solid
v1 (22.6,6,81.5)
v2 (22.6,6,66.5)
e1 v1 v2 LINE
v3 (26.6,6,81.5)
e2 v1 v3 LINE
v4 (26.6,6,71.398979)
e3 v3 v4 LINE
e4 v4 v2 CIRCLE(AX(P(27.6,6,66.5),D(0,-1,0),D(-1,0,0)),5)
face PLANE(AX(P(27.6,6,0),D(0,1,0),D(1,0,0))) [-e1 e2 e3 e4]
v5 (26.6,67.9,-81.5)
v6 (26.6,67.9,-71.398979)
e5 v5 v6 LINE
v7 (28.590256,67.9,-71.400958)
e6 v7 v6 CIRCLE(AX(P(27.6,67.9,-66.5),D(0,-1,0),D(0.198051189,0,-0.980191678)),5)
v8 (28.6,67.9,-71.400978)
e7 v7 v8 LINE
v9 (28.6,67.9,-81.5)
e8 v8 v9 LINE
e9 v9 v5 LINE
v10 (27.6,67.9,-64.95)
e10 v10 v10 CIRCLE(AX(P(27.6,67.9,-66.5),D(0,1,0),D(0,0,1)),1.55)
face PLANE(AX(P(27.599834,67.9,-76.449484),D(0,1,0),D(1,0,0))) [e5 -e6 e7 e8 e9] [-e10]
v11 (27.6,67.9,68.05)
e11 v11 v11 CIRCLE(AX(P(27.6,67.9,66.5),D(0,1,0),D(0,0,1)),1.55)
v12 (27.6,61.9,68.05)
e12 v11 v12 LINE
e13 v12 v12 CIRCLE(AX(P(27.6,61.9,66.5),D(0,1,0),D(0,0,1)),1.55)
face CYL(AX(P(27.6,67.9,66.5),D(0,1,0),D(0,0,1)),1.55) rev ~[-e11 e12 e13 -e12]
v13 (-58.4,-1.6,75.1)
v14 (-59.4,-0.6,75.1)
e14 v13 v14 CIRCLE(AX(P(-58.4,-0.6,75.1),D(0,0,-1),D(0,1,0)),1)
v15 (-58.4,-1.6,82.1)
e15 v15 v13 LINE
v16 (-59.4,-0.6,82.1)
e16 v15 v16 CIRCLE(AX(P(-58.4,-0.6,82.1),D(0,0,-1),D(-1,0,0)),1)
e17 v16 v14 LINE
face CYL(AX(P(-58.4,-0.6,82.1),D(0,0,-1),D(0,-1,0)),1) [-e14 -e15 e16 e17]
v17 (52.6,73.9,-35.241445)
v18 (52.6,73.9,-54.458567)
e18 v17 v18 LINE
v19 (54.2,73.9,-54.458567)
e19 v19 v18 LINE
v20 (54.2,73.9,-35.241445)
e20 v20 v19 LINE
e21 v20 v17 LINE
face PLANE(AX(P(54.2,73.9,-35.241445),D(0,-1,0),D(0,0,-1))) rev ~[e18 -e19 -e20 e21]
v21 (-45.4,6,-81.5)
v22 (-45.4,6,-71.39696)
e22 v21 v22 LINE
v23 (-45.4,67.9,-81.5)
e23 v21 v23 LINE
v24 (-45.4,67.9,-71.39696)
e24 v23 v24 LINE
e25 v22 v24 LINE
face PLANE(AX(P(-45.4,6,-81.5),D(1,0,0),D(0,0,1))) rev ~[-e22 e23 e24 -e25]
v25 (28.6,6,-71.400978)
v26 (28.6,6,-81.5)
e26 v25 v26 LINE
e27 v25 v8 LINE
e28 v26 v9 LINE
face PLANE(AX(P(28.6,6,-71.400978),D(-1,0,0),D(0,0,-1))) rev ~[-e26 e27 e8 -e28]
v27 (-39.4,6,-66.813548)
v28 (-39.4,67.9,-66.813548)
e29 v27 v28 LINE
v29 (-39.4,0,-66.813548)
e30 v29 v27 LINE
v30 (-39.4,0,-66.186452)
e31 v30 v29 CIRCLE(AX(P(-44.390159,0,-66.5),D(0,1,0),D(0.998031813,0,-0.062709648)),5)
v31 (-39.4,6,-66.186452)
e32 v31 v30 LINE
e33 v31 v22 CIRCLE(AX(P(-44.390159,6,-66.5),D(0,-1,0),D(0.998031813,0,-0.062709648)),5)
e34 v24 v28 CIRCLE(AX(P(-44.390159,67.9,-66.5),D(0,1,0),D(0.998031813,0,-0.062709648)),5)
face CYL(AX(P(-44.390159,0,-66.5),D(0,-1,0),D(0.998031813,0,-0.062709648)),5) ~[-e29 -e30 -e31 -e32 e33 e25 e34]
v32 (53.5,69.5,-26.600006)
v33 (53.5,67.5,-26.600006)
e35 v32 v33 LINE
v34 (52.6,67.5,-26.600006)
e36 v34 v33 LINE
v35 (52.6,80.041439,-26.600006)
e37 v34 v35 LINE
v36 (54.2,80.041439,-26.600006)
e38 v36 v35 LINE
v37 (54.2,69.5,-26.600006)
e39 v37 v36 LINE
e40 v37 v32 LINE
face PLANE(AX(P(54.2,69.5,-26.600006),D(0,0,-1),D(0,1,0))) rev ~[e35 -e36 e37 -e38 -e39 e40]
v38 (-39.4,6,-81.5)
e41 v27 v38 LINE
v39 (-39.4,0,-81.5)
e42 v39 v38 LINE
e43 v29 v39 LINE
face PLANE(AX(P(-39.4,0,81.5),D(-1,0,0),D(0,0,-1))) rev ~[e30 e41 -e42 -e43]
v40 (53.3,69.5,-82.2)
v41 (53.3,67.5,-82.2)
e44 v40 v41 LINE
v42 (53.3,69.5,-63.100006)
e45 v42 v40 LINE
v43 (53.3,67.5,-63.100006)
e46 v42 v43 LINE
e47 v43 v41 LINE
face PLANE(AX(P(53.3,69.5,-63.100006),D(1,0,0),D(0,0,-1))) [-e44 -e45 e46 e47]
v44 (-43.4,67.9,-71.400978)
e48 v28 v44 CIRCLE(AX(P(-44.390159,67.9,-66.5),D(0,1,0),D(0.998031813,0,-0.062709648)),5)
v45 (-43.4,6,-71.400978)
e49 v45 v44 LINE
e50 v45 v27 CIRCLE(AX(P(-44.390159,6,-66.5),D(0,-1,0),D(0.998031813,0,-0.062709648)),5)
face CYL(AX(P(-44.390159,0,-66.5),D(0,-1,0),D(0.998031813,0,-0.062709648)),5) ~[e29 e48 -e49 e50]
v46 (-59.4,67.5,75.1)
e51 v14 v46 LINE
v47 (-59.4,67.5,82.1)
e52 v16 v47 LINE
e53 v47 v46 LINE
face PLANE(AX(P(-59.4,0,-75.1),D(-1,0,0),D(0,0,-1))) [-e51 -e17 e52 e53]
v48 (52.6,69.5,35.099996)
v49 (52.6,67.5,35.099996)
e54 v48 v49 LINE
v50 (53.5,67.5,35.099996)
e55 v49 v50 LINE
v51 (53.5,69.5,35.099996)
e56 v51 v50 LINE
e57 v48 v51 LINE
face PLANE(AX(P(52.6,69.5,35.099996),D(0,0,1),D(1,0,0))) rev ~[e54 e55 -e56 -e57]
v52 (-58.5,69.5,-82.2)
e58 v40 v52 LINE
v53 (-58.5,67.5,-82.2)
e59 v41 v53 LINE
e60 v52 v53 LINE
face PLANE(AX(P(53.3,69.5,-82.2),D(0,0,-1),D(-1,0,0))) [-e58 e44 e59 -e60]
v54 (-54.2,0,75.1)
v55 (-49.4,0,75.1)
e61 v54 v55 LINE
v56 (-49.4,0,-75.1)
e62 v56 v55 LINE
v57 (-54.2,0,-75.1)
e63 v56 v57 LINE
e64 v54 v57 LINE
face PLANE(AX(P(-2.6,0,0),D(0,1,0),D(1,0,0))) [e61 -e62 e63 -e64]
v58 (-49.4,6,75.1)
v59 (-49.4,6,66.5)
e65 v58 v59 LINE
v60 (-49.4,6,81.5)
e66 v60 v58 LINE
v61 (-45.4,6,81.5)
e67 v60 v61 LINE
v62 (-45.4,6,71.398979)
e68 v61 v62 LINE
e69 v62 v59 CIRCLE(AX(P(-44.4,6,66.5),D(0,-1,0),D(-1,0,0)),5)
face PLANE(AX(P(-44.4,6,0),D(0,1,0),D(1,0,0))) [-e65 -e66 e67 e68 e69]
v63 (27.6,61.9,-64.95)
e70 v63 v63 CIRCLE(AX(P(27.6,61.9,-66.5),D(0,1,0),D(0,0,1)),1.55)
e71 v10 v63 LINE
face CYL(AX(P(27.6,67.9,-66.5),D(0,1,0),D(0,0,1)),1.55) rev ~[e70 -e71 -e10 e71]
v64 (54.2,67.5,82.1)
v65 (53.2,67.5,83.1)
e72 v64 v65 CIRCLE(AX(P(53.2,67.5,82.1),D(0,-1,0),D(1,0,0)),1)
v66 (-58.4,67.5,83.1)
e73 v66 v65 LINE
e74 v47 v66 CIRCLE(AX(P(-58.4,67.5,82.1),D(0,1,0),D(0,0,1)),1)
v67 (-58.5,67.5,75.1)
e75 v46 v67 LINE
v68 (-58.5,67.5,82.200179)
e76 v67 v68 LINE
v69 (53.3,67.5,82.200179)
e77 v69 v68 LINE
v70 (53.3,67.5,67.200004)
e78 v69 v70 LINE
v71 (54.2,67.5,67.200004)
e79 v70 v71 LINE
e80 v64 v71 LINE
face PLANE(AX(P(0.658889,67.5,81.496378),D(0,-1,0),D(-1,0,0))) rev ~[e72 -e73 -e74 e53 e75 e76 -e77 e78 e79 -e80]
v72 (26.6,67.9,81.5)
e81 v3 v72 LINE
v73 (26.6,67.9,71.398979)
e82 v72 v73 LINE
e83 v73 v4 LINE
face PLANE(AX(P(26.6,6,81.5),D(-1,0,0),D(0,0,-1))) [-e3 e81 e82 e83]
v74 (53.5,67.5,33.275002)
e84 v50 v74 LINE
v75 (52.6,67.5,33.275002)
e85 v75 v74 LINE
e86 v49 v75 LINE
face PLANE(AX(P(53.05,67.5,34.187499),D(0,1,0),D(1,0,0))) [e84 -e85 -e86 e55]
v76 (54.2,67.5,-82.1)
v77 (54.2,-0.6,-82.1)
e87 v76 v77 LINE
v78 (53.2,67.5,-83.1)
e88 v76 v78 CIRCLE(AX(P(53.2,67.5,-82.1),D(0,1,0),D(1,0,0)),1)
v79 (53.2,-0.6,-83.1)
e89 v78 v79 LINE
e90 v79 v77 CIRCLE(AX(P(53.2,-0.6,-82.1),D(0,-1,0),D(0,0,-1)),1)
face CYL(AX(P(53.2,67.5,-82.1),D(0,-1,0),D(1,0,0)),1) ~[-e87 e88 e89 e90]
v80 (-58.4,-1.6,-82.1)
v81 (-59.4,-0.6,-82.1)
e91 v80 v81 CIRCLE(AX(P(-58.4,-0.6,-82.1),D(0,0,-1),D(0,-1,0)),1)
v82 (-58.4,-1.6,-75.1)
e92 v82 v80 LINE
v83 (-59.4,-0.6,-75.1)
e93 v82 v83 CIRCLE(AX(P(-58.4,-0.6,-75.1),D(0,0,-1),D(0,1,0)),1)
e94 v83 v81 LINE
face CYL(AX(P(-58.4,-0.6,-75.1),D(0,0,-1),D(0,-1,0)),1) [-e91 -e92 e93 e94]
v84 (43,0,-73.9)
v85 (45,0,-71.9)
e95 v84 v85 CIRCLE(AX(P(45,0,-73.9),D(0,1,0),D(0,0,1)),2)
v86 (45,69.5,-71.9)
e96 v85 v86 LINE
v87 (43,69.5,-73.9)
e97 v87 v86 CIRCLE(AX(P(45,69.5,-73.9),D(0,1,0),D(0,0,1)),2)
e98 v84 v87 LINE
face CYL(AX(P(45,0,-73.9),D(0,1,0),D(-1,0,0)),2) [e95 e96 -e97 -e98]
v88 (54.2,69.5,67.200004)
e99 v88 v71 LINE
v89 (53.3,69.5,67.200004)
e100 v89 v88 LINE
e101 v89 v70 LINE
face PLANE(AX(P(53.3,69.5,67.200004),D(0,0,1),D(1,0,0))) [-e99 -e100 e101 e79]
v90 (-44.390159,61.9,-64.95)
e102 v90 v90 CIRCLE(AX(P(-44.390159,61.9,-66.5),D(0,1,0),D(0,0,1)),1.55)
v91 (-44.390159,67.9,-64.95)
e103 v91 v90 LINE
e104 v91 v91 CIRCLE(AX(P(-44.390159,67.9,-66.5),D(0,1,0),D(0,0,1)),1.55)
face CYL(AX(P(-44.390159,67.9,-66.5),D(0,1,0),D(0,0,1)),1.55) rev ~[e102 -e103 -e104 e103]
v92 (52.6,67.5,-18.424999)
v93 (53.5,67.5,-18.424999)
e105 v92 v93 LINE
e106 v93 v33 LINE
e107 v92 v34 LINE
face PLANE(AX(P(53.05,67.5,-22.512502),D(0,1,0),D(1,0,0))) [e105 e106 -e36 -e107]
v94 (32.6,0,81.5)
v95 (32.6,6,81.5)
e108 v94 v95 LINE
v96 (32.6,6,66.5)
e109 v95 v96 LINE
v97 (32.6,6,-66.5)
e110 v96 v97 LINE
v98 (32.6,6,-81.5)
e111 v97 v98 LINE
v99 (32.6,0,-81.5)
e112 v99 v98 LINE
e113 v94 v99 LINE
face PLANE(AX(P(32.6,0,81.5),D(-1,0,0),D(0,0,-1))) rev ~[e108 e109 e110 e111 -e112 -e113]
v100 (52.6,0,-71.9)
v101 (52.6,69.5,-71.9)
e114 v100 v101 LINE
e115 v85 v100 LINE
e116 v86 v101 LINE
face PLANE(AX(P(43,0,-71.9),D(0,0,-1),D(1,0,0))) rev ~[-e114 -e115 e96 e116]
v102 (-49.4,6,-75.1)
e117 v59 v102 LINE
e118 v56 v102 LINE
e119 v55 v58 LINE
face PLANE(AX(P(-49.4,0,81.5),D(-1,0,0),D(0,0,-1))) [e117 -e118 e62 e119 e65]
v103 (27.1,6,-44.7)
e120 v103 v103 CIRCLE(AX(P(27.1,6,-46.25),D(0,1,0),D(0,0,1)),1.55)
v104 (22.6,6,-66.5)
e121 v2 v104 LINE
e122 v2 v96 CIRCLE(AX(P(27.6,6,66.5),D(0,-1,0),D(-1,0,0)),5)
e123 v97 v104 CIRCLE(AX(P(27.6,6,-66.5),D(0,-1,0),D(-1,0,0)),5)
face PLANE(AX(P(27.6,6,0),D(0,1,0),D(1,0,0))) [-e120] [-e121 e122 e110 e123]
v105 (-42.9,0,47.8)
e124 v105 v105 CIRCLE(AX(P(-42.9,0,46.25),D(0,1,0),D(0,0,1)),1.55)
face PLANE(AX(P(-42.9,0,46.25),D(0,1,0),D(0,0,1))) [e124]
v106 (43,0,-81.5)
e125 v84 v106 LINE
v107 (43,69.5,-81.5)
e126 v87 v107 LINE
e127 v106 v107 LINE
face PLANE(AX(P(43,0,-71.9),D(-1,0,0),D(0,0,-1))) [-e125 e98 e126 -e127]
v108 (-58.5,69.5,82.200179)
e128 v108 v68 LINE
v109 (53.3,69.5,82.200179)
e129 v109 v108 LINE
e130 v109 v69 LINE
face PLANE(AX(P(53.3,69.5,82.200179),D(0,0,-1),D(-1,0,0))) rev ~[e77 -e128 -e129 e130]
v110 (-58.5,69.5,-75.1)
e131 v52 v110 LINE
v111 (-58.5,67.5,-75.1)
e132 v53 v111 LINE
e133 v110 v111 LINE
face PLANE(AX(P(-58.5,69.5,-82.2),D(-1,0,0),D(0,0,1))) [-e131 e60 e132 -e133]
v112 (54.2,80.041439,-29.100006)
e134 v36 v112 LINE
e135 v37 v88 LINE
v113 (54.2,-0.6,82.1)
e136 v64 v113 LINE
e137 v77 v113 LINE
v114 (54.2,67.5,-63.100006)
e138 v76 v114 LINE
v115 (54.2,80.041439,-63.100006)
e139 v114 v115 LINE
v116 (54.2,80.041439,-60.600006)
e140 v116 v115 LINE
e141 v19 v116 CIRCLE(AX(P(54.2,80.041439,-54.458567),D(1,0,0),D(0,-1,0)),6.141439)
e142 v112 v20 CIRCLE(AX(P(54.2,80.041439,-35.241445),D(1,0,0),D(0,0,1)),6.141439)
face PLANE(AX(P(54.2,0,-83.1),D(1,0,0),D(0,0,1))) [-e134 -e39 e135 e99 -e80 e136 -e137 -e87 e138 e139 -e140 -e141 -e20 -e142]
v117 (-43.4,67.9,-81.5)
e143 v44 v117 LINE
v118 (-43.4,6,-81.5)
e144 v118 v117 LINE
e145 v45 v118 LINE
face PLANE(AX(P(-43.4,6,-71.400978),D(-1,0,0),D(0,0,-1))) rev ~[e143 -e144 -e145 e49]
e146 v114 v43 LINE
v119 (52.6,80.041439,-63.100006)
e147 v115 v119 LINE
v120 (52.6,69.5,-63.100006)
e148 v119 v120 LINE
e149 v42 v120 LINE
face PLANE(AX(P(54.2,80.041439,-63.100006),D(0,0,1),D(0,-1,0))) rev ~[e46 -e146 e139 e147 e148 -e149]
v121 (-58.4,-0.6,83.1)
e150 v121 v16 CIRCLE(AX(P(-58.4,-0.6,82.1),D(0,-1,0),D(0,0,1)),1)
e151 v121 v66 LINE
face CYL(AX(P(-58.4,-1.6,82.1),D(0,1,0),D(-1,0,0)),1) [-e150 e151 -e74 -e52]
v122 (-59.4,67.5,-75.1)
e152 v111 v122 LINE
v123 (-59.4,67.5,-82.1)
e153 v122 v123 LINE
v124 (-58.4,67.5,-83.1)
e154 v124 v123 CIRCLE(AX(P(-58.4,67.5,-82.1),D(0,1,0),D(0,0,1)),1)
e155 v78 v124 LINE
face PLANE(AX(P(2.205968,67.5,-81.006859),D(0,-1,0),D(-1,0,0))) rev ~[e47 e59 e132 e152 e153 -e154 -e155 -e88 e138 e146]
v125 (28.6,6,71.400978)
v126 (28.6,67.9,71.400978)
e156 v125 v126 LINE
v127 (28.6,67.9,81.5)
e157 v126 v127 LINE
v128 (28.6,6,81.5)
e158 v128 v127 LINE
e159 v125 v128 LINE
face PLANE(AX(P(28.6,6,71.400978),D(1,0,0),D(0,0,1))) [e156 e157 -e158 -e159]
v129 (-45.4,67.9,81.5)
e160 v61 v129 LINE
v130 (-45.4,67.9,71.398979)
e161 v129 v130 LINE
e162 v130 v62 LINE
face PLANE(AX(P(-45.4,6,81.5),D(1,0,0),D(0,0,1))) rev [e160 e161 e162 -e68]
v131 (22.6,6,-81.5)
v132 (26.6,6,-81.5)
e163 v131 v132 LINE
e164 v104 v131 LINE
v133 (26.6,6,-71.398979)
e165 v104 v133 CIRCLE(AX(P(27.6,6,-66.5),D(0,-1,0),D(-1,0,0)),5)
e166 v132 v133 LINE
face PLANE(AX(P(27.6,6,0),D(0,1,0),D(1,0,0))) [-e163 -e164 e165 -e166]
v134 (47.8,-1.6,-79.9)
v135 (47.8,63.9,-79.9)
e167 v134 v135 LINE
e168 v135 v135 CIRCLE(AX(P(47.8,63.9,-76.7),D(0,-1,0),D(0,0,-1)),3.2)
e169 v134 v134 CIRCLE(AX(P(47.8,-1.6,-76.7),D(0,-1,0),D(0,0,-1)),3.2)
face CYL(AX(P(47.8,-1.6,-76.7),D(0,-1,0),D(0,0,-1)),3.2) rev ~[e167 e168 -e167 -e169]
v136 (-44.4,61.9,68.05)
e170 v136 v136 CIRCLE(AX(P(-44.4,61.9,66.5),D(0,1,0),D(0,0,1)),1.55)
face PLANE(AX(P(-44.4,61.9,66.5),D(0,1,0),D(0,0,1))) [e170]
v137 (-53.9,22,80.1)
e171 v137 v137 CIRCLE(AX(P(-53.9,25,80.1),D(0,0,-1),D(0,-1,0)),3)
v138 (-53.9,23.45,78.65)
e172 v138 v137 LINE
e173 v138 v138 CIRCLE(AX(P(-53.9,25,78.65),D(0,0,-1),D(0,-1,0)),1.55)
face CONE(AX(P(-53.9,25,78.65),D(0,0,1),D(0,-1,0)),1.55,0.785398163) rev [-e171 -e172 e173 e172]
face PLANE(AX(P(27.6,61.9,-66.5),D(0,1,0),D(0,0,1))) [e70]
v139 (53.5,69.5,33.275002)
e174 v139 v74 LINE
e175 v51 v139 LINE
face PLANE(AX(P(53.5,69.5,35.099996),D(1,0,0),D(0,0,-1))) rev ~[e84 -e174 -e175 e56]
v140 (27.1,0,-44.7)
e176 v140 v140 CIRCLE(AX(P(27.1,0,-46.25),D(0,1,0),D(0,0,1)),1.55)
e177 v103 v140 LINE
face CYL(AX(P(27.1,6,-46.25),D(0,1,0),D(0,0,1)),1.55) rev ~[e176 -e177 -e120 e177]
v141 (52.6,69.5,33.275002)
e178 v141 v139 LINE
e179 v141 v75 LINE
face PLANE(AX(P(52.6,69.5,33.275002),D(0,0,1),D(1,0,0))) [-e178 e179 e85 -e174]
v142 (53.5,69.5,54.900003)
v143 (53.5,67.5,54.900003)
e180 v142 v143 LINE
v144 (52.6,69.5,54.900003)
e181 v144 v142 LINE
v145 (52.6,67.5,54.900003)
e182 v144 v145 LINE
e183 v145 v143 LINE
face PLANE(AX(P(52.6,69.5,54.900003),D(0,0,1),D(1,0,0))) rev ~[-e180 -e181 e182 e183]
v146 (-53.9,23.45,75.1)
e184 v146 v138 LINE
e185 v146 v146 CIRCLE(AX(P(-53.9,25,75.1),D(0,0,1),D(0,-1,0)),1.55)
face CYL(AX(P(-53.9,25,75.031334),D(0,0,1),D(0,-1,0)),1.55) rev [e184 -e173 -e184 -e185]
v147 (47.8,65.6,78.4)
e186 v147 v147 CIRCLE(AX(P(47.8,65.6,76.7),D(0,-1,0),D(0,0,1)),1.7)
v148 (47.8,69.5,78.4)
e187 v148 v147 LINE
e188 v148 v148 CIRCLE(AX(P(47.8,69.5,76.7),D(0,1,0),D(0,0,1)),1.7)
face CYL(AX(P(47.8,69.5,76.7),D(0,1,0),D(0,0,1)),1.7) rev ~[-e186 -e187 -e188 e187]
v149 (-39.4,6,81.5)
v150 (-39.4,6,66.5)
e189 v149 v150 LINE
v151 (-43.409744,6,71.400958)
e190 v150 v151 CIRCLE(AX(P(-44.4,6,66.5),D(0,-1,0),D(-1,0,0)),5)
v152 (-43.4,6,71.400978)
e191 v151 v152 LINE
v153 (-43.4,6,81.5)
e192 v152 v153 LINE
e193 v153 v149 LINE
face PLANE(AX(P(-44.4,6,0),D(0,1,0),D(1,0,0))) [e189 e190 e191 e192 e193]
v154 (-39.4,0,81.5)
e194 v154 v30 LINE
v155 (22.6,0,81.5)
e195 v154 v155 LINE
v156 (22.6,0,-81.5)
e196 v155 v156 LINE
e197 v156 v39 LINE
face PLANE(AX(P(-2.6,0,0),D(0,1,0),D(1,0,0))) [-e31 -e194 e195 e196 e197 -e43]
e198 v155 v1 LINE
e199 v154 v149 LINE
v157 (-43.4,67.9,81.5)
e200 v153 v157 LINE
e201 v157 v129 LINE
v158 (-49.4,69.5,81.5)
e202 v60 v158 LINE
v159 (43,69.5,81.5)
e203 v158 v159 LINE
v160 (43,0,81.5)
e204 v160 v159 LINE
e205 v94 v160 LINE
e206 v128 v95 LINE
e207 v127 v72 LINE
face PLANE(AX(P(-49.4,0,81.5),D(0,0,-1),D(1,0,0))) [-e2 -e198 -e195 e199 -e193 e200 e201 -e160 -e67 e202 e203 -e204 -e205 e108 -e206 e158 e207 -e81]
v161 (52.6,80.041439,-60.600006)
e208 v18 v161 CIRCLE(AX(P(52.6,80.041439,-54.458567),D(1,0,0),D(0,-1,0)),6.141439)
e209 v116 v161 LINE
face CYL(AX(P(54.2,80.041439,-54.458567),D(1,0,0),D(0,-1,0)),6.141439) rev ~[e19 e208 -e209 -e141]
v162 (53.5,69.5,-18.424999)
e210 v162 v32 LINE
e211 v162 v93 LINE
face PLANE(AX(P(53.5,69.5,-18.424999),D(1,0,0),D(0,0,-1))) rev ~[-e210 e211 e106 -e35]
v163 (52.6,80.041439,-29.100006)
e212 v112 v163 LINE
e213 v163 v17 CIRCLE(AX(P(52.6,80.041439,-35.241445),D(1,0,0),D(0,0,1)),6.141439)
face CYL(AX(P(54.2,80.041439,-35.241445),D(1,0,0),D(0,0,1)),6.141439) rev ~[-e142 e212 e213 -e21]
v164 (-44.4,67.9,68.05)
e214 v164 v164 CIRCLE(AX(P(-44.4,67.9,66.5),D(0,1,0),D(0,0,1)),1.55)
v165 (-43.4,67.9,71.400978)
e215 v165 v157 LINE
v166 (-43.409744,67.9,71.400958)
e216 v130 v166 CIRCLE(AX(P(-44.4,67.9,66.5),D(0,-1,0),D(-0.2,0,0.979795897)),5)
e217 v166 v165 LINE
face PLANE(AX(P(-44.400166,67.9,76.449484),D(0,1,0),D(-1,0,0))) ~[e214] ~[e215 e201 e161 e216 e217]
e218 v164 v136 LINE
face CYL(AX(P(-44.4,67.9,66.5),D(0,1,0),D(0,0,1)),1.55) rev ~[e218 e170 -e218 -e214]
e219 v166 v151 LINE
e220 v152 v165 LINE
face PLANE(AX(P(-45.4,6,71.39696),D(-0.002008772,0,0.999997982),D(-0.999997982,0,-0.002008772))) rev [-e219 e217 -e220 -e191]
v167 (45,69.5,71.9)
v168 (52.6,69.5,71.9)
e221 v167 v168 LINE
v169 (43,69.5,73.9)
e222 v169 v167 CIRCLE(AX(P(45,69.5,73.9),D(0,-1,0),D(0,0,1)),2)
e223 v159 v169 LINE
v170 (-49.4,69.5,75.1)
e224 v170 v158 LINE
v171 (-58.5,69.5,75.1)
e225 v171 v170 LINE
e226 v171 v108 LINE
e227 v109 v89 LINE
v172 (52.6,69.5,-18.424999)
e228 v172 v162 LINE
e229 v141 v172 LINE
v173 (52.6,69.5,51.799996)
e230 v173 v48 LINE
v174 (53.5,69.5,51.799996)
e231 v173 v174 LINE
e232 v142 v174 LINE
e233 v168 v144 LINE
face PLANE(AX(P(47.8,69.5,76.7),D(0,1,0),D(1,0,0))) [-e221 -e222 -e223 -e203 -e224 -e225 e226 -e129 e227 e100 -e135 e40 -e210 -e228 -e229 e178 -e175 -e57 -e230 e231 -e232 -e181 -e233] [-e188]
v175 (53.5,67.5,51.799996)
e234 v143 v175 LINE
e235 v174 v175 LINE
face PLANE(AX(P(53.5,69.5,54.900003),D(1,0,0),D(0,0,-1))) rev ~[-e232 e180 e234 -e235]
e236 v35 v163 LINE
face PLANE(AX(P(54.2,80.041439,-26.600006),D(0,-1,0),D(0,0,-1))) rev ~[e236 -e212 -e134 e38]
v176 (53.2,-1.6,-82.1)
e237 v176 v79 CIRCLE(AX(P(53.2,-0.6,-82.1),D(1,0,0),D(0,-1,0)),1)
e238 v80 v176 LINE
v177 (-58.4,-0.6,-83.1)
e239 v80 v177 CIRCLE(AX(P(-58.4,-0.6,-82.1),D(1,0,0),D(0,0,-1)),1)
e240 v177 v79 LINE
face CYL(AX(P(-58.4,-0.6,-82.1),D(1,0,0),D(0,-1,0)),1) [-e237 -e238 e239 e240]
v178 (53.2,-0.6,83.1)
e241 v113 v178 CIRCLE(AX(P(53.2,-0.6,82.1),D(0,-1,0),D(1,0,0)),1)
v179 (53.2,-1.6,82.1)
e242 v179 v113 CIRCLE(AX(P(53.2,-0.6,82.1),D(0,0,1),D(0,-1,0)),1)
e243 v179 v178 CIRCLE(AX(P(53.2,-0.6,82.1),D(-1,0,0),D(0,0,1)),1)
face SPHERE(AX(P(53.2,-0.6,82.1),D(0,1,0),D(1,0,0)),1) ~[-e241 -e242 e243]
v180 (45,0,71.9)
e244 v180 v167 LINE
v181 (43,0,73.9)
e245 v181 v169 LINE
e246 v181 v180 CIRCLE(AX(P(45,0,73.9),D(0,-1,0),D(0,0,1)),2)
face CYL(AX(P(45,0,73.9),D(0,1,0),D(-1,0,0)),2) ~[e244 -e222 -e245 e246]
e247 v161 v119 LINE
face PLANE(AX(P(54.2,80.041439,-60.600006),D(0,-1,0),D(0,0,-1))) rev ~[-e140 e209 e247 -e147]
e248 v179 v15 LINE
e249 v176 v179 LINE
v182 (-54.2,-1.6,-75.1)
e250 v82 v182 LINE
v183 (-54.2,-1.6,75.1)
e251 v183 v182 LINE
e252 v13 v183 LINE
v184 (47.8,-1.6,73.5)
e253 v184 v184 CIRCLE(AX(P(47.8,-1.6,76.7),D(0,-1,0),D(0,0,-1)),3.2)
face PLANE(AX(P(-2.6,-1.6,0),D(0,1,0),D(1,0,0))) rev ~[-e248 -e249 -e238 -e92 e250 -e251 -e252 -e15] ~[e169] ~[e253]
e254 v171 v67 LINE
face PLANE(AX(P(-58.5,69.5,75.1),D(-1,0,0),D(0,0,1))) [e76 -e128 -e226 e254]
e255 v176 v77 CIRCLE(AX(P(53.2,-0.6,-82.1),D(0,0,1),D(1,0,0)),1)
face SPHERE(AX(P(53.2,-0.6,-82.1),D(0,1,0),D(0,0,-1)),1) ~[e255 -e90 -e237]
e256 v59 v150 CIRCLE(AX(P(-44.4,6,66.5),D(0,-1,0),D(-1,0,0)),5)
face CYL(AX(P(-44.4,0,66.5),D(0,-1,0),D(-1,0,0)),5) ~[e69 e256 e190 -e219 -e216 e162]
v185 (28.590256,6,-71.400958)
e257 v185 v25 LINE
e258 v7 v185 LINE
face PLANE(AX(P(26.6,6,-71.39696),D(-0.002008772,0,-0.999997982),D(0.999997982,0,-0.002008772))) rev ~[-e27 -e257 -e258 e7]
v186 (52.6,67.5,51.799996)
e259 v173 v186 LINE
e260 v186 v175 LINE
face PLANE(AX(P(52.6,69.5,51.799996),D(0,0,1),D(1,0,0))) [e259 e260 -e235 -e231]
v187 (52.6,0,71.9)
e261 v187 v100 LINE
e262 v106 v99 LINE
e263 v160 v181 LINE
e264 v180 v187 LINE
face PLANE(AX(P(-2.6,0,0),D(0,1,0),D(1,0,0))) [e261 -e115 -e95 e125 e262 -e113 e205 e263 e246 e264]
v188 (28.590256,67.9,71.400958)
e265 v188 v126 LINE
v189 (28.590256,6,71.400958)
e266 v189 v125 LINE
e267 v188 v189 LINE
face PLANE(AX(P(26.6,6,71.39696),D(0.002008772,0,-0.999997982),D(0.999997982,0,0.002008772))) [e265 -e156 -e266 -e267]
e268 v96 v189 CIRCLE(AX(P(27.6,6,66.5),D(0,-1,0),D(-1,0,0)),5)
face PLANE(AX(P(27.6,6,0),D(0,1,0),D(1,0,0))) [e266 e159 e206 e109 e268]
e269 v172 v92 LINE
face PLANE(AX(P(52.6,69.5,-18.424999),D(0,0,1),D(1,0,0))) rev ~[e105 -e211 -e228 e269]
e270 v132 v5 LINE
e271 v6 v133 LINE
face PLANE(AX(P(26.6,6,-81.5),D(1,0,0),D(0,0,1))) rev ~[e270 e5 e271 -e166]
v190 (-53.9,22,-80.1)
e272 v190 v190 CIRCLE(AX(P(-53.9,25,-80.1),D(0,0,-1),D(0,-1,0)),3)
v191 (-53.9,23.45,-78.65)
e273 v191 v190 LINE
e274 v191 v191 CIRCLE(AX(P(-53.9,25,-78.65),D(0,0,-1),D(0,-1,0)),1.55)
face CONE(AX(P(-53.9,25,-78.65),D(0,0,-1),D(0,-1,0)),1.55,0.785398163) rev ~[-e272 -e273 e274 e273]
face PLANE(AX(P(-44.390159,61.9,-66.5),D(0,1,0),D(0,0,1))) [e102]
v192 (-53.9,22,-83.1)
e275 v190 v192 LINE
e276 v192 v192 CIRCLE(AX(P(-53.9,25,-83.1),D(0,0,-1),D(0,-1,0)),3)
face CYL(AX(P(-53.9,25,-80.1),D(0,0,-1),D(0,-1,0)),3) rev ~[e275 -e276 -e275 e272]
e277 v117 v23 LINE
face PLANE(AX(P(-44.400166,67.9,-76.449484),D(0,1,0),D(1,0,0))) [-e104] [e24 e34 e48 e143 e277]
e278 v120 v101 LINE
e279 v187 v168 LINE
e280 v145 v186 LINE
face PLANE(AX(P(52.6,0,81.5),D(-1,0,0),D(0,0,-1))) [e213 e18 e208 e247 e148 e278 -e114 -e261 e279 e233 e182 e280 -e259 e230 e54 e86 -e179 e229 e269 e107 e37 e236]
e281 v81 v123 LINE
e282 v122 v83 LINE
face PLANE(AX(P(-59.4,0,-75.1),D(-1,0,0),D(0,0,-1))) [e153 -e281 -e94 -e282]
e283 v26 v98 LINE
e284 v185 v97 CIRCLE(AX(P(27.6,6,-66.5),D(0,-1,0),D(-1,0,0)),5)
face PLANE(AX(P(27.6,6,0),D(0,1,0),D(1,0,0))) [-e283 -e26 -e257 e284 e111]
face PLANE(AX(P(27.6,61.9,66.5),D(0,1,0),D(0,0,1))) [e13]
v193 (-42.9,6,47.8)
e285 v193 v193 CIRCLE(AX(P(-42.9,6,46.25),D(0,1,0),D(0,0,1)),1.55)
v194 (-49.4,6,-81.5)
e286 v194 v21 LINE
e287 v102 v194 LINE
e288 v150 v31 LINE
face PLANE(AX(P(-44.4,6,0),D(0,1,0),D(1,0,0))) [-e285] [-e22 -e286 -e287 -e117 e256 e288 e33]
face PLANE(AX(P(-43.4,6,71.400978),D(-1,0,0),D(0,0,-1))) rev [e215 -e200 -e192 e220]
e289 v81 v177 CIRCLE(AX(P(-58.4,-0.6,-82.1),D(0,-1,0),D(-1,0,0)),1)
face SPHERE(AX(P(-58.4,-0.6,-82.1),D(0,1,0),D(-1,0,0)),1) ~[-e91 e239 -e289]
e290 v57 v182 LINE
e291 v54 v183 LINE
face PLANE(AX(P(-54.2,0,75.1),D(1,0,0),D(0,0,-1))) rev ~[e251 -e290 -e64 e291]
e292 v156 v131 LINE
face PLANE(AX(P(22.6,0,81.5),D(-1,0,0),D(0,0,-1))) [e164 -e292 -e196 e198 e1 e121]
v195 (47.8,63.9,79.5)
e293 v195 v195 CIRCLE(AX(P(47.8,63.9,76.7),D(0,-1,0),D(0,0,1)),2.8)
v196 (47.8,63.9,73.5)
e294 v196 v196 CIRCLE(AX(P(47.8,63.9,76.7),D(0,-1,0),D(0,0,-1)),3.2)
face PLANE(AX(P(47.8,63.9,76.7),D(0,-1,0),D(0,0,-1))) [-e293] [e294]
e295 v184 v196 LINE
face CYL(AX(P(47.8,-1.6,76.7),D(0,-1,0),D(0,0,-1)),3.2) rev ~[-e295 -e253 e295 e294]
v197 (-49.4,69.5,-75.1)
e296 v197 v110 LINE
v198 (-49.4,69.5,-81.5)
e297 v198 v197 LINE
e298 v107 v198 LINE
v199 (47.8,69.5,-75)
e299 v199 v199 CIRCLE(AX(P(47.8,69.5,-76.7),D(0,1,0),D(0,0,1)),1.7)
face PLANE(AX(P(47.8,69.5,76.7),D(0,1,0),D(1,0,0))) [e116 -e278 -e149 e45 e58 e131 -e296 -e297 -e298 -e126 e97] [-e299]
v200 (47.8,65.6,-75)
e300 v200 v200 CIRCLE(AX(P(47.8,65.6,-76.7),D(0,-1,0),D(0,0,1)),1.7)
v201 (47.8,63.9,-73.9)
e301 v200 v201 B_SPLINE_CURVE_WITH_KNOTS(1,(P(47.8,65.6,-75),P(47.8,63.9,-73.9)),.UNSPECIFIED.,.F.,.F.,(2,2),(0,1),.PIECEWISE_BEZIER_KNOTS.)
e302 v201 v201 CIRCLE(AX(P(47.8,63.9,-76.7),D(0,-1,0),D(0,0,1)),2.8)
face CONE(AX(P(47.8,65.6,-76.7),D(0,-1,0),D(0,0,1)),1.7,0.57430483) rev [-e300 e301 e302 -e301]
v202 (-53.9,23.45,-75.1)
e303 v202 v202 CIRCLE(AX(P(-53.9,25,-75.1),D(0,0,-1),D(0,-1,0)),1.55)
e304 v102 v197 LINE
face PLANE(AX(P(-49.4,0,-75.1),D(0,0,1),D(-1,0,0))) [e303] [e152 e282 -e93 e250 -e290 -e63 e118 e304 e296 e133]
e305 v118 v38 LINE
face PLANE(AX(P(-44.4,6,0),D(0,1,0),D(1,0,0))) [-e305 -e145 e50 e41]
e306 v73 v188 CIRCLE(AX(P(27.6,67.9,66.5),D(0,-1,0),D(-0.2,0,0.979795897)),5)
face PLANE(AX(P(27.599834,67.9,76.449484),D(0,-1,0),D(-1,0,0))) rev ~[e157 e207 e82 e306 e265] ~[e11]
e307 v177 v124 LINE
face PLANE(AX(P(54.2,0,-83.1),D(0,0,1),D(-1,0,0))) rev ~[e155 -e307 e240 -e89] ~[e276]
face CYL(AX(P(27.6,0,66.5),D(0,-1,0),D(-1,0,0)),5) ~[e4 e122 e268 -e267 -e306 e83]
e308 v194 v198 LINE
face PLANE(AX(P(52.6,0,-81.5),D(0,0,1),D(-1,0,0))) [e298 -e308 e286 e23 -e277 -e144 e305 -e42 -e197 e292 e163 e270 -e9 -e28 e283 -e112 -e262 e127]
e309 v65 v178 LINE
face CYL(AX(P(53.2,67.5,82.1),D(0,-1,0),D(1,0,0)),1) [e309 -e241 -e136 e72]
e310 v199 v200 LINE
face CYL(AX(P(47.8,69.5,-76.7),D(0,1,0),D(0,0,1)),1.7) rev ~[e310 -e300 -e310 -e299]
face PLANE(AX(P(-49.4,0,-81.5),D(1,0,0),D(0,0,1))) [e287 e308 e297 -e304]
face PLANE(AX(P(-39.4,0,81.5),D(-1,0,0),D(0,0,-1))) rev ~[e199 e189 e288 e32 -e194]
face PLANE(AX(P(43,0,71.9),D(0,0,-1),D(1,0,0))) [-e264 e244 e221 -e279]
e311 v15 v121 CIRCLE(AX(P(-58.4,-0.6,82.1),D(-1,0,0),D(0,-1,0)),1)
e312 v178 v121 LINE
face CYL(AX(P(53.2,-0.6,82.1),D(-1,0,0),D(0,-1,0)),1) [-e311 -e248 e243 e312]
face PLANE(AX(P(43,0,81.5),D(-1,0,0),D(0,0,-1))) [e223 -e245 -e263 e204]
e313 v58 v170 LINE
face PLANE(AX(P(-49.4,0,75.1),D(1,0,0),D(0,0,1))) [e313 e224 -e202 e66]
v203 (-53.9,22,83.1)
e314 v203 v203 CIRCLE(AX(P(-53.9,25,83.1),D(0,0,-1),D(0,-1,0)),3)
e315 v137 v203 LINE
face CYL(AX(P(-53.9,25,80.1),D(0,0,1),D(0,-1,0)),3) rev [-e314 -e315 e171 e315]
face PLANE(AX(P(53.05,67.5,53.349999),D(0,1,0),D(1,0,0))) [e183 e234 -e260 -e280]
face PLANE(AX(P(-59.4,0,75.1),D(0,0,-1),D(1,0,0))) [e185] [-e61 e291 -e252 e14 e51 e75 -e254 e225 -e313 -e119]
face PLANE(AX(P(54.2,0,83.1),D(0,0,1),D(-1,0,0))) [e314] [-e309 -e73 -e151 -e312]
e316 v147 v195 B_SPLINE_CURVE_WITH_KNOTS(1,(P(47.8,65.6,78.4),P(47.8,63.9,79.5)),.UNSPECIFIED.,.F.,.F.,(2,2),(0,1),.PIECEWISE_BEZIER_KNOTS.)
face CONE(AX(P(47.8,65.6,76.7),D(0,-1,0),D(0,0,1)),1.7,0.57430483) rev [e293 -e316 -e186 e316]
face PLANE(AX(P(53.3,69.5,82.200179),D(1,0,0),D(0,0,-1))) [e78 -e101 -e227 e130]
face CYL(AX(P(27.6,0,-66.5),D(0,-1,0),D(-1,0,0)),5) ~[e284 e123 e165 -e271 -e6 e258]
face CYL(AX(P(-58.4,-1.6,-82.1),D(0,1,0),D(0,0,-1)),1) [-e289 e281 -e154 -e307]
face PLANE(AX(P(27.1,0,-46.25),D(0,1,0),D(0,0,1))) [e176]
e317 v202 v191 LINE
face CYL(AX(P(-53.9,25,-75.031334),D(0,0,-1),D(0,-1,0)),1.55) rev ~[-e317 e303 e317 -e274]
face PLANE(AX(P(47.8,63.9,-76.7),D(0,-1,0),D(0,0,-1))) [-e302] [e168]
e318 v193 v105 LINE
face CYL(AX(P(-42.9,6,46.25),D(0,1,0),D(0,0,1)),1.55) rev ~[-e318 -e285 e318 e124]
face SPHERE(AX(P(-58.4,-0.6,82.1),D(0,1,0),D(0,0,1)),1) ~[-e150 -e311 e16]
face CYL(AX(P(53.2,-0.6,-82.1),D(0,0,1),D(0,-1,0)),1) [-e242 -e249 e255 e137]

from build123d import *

# Parameters (mm, degrees)
SKETCH_1_W                    = 113.6
SKETCH_1_H                    = 166.2
EXTRUDE_1_DEPTH               = 1.6
EXTRUDE_2_DEPTH               = 69.5
SKETCH_3_W                    = 10
SKETCH_3_H                    = 163
EXTRUDE_3_DEPTH               = 6
SKETCH_20_R                   = 5
EXTRUDE_7_DEPTH               = 67.9
SKETCH_25_W                   = 9.6
SKETCH_25_H                   = 9.6
EXTRUDE_8_DEPTH               = 69.5
SKETCH_27_R                   = 1.55
CUT_EXTRUDE_1_DEPTH           = 6
EXTRUDE_9_DEPTH               = 1.6
SKETCH_30_R                   = 3.2
CUT_EXTRUDE_2_DEPTH           = 65.5
SKETCH_38_R                   = 1.7
CUT_EXTRUDE_9_DEPTH           = 3.9
SKETCH_31_R                   = 2.8
PATTERN_LINEAR_3_COUNT        = 2
PATTERN_LINEAR_3_PITCH        = 153.4
CUT_EXTRUDE_8_DEPTH           = 2
SKETCH_50_W                   = 0.9
SKETCH_50_H                   = 8.175007394
SKETCH_50_H_2                 = 1.824993516
SKETCH_50_H_3                 = 3.100006964
CUT_EXTRUDE_14_DEPTH          = 2
SKETCH_40_W                   = 5.2
SKETCH_40_H                   = 150.2
CUT_EXTRUDE_10_DEPTH          = 1.6
FILLET_2_R                    = 2
FILLET_3_R                    = 1
EXTRUDE_13_DEPTH              = 61.9
PATTERN_LINEAR_4_COUNT        = 2
PATTERN_LINEAR_4_PITCH        = 72
PATTERN_LINEAR_4_COPY_1_DEPTH = 61.9
SKETCH_17_R                   = 1.55
CUT_EXTRUDE_13_DEPTH          = 6
FILLET_4_R                    = 1


with BuildPart() as part:
    # Эскиз1 → Бобышка-Вытянуть1 (new body)
    with BuildSketch(Plane(origin=(0, 0, 0), x_dir=(1, 0, 0), z_dir=(0, 1, 0))):
        with Locations((-2.6, 0)):
            Rectangle(SKETCH_1_W, SKETCH_1_H)
    extrude(amount=-EXTRUDE_1_DEPTH)

    # Эскиз2 → Бобышка-Вытянуть2 (add)
    with BuildSketch(Plane(origin=(0, 0, 0), x_dir=(1, 0, 0), z_dir=(0, 1, 0))):
        Polygon((-54.2, 83.1), (54.2, 83.1), (54.2, -83.1), (-59.4, -83.1), (-59.4, -75.1), (-49.4, -75.1), (-49.4, -81.5), (52.6, -81.5), (52.6, 81.5), (-49.4, 81.5), (-49.4, 75.1), (-59.4, 75.1), (-59.4, 83.1), align=None)
    extrude(amount=EXTRUDE_2_DEPTH)

    # Эскиз3 → Бобышка-Вытянуть3 (add)
    with BuildSketch(Plane(origin=(0, 0, 0), x_dir=(1, 0, 0), z_dir=(0, 1, 0))):
        with Locations((27.6, 0)):
            Rectangle(SKETCH_3_W, SKETCH_3_H)
        with Locations((-44.4, 0)):
            Rectangle(SKETCH_3_W, SKETCH_3_H)
    extrude(amount=EXTRUDE_3_DEPTH)

    # Эскиз20 → Бобышка-Вытянуть7 (add)
    with BuildSketch(Plane(origin=(0, 0, 0), x_dir=(1, 0, 0), z_dir=(0, 1, 0))):
        with Locations(Location((-44.4, -66.5, 0), (0, 0, 180))):
            Circle(SKETCH_20_R)
        with Locations(Location((-44.390159066, 66.5, 0), (0, 0, 3.595357258))):
            Circle(SKETCH_20_R)
        with Locations(Location((27.6, 66.5, 0), (0, 0, 180))):
            Circle(SKETCH_20_R)
        with Locations(Location((27.6, -66.5, 0), (0, 0, 180))):
            Circle(SKETCH_20_R)
    extrude(amount=EXTRUDE_7_DEPTH)

    # Эскиз25 → Бобышка-Вытянуть8 (add)
    with BuildSketch(Plane(origin=(0, 0, 0), x_dir=(1, 0, 0), z_dir=(0, 1, 0))):
        with Locations((47.8, -76.7)):
            Rectangle(SKETCH_25_W, SKETCH_25_H)
        with Locations((47.8, 76.7)):
            Rectangle(SKETCH_25_W, SKETCH_25_H)
    extrude(amount=EXTRUDE_8_DEPTH)

    # Эскиз27 → Вырез-Вытянуть1 (cut)
    with BuildSketch(Plane(origin=(0, 67.9, 0), x_dir=(1, 0, 0), z_dir=(0, 1, 0))):
        with Locations(Location((-44.390159066, 66.5, 0), (0, 0, 270))):
            Circle(SKETCH_27_R)
        with Locations(Location((27.6, 66.5, 0), (0, 0, 270))):
            Circle(SKETCH_27_R)
        with Locations(Location((27.6, -66.5, 0), (0, 0, 270))):
            Circle(SKETCH_27_R)
        with Locations(Location((-44.4, -66.5, 0), (0, 0, 270))):
            Circle(SKETCH_27_R)
    extrude(amount=-CUT_EXTRUDE_1_DEPTH, mode=Mode.SUBTRACT)

    # Эскиз29 → Бобышка-Вытянуть9 (add)
    with BuildSketch(Plane(origin=(54.2, 0, 0), x_dir=(0, 0, -1), z_dir=(1, 0, 0))):
        with BuildLine():
            Line((35.331444881, 73.9), (54.368567283, 73.9))
            Line((54.368567283, 73.9), (54.458567283, 73.9))
            ThreePointArc((54.458567283, 73.9), (58.801220304, 75.698785778), (60.600006082, 80.041438799))
            Line((60.600006082, 80.041438799), (63.100006082, 80.041438799))
            Line((63.100006082, 80.041438799), (63.100006082, 69.5))
            Line((63.100006082, 69.5), (26.600006082, 69.5))
            Line((26.600006082, 69.5), (26.600006082, 80.041438799))
            Line((26.600006082, 80.041438799), (29.100006082, 80.041438799))
            ThreePointArc((29.100006082, 80.041438799), (30.89879186, 75.698785778), (35.241444881, 73.9))
            Line((35.241444881, 73.9), (35.331444881, 73.9))
        make_face()
    extrude(amount=-EXTRUDE_9_DEPTH)

    # Эскиз30 → Вырез-Вытянуть2 (cut)
    with BuildSketch(Plane.XZ.offset(1.6)):
        with Locations(Location((47.8, -76.7, 0), (0, 0, 270))):
            Circle(SKETCH_30_R)
    cut_extrude_2 = extrude(amount=-CUT_EXTRUDE_2_DEPTH, mode=Mode.SUBTRACT)

    # Эскиз38 → Вырез-Вытянуть9 (cut)
    with BuildSketch(Plane(origin=(0, 69.5, 0), x_dir=(1, 0, 0), z_dir=(0, 1, 0))):
        with Locations(Location((47.8, 76.7, 0), (0, 0, 270))):
            Circle(SKETCH_38_R)
    cut_extrude_9 = extrude(amount=-CUT_EXTRUDE_9_DEPTH, mode=Mode.SUBTRACT)

    # Эскиз31 → section 1 of loft_1
    with BuildSketch(Plane.XZ.offset(-63.9), mode=Mode.PRIVATE) as loft_1_s1:
        with Locations((47.8, -76.7)):
            Circle(SKETCH_31_R)
    # loft up to a face of the part (loft_1)
    loft_1 = loft([Face(Wire([part.edges().sort_by_distance((49.039246667, 65.6, -77.86373008))[0]])), loft_1_s1.sketch], mode=Mode.SUBTRACT)

    # Линейный массив3: Вырез-Вытянуть2, Вырез-Вытянуть9, Вырез-По сечениям1 ×2
    with Locations(*[(0, 0, i * PATTERN_LINEAR_3_PITCH) for i in range(1, PATTERN_LINEAR_3_COUNT)]):
        add(cut_extrude_2, mode=Mode.SUBTRACT)
        add(cut_extrude_9, mode=Mode.SUBTRACT)
        add(loft_1, mode=Mode.SUBTRACT)

    # Эскиз36 → Вырез-Вытянуть8 (cut)
    with BuildSketch(Plane(origin=(0, 69.5, 0), x_dir=(1, 0, 0), z_dir=(0, 1, 0))):
        Polygon((54.2, -82.4), (54.2, -83.1), (-54.2, -83.1), (-59.4, -83.1), (-59.4, -75.1), (-58.5, -75.1), (-58.5, -82.20017947), (-52.6, -82.20017947), (53.3, -82.20017947), (53.3, -67.20000355), (54.2, -67.20000355), align=None)
        Polygon((-54.2, 83.1), (54.2, 83.1), (54.2, 63.100006082), (53.3, 63.100006082), (53.3, 82.2), (-58.5, 82.2), (-58.5, 75.1), (-59.4, 75.1), (-59.4, 83.1), align=None)
    extrude(amount=-CUT_EXTRUDE_8_DEPTH, mode=Mode.SUBTRACT)

    # Эскиз50 → Вырез-Вытянуть14 (cut)
    with BuildSketch(Plane(origin=(0, 69.5, 0), x_dir=(1, 0, 0), z_dir=(0, 1, 0))):
        with Locations((53.05, 22.512502385)):
            Rectangle(SKETCH_50_W, SKETCH_50_H)
        with Locations((53.05, -34.18749901)):
            Rectangle(SKETCH_50_W, SKETCH_50_H_2)
        with Locations((53.05, -53.34999907)):
            Rectangle(SKETCH_50_W, SKETCH_50_H_3)
    extrude(amount=-CUT_EXTRUDE_14_DEPTH, mode=Mode.SUBTRACT)

    # Эскиз40 → Вырез-Вытянуть10 (cut)
    with BuildSketch(Plane(origin=(0, 0, 0), x_dir=(1, 0, 0), z_dir=(0, 1, 0))):
        with Locations((-56.8, 0)):
            Rectangle(SKETCH_40_W, SKETCH_40_H)
    extrude(amount=-CUT_EXTRUDE_10_DEPTH, mode=Mode.SUBTRACT)

    # Эскиз48 → Отверстие1 (revolve, cut)
    with BuildSketch(Plane(origin=(-53.9, 25, 83.1), x_dir=(0, -1, 0), z_dir=(1, 0, 0))):
        Polygon((0, 0), (0, 9), (1.55, 8.068666041), (1.55, 4.45), (3, 3), (3, 0), align=None)
    hole_wizard_1 = revolve(axis=Axis((-53.9, 25, 89.230023899), (0, 0, -1)), mode=Mode.SUBTRACT)

    # Зеркальное отражение5: Отверстие1 across plane
    add(hole_wizard_1.mirror(Plane.XY), mode=Mode.SUBTRACT)

    # Скругление2
    fillet_2_edges = [part.edges().sort_by_distance(p)[0] for p in [
        (43, 34.75, -71.9),
        (43, 34.75, 71.9),
    ]]
    fillet(fillet_2_edges, radius=FILLET_2_R)

    # Скругление3
    fillet_3_edges = [part.edges().sort_by_distance(p)[0] for p in [
        (54.2, 32.95, -83.1),
        (54.2, 32.95, 83.1),
        (-59.4, 32.95, 83.1),
        (-59.4, 32.95, -83.1),
    ]]
    fillet(fillet_3_edges, radius=FILLET_3_R)

    # Эскиз46 → Бобышка-Вытянуть13 (add)
    with BuildSketch(Plane(origin=(0, 6, 0), x_dir=(1, 0, 0), z_dir=(0, 1, 0))):
        Polygon((-45.4, 81.5), (-45.4, 71.396960413), (-43.4, 71.400977966), (-43.4, 81.5), align=None)
    extrude_13 = extrude(amount=EXTRUDE_13_DEPTH)

    # Зеркальное отражение4: Бобышка-Вытянуть13 across plane
    add(extrude_13.mirror(Plane.XY))

    # Линейный массив4: Бобышка-Вытянуть13 ×2
    with Locations(*[(i * PATTERN_LINEAR_4_PITCH, 0, 0) for i in range(1, PATTERN_LINEAR_4_COUNT)]):
        add(extrude_13)

    # Линейный массив4 copy 1 sketch → Линейный массив4 copy 1 (add)
    with BuildSketch(Plane(origin=(72, 6, 0), x_dir=(1, 0, 0), z_dir=(0, 1, 0))):
        Polygon((-45.4, -81.5), (-45.4, -71.396960413), (-43.4, -71.400977966), (-43.4, -81.5), align=None)
    extrude(amount=PATTERN_LINEAR_4_COPY_1_DEPTH)

    # Эскиз17 → Вырез-Вытянуть13 (cut)
    with BuildSketch(Plane(origin=(0, 6, 0), x_dir=(1, 0, 0), z_dir=(0, 1, 0))):
        with Locations(Location((27.1, 46.25, 0), (0, 0, 270))):
            Circle(SKETCH_17_R)
        with Locations(Location((-42.9, -46.25, 0), (0, 0, 270))):
            Circle(SKETCH_17_R)
    extrude(amount=-CUT_EXTRUDE_13_DEPTH, mode=Mode.SUBTRACT)

    # Скругление4
    fillet_4_edges = [part.edges().sort_by_distance(p)[0] for p in [
        (-59.4, -1.6, 78.6),
        (-2.6, -1.6, -83.1),
        (-59.4, -1.6, -78.6),
        (54.2, -1.6, 0),
        (-2.6, -1.6, 83.1),
        (-59.107106781, -1.6, 82.807106781),
        (53.907106781, -1.6, 82.807106781),
        (53.907106781, -1.6, -82.807106781),
        (-59.107106781, -1.6, -82.807106781),
    ]]
    fillet(fillet_4_edges, radius=FILLET_4_R)


solid = part.part
